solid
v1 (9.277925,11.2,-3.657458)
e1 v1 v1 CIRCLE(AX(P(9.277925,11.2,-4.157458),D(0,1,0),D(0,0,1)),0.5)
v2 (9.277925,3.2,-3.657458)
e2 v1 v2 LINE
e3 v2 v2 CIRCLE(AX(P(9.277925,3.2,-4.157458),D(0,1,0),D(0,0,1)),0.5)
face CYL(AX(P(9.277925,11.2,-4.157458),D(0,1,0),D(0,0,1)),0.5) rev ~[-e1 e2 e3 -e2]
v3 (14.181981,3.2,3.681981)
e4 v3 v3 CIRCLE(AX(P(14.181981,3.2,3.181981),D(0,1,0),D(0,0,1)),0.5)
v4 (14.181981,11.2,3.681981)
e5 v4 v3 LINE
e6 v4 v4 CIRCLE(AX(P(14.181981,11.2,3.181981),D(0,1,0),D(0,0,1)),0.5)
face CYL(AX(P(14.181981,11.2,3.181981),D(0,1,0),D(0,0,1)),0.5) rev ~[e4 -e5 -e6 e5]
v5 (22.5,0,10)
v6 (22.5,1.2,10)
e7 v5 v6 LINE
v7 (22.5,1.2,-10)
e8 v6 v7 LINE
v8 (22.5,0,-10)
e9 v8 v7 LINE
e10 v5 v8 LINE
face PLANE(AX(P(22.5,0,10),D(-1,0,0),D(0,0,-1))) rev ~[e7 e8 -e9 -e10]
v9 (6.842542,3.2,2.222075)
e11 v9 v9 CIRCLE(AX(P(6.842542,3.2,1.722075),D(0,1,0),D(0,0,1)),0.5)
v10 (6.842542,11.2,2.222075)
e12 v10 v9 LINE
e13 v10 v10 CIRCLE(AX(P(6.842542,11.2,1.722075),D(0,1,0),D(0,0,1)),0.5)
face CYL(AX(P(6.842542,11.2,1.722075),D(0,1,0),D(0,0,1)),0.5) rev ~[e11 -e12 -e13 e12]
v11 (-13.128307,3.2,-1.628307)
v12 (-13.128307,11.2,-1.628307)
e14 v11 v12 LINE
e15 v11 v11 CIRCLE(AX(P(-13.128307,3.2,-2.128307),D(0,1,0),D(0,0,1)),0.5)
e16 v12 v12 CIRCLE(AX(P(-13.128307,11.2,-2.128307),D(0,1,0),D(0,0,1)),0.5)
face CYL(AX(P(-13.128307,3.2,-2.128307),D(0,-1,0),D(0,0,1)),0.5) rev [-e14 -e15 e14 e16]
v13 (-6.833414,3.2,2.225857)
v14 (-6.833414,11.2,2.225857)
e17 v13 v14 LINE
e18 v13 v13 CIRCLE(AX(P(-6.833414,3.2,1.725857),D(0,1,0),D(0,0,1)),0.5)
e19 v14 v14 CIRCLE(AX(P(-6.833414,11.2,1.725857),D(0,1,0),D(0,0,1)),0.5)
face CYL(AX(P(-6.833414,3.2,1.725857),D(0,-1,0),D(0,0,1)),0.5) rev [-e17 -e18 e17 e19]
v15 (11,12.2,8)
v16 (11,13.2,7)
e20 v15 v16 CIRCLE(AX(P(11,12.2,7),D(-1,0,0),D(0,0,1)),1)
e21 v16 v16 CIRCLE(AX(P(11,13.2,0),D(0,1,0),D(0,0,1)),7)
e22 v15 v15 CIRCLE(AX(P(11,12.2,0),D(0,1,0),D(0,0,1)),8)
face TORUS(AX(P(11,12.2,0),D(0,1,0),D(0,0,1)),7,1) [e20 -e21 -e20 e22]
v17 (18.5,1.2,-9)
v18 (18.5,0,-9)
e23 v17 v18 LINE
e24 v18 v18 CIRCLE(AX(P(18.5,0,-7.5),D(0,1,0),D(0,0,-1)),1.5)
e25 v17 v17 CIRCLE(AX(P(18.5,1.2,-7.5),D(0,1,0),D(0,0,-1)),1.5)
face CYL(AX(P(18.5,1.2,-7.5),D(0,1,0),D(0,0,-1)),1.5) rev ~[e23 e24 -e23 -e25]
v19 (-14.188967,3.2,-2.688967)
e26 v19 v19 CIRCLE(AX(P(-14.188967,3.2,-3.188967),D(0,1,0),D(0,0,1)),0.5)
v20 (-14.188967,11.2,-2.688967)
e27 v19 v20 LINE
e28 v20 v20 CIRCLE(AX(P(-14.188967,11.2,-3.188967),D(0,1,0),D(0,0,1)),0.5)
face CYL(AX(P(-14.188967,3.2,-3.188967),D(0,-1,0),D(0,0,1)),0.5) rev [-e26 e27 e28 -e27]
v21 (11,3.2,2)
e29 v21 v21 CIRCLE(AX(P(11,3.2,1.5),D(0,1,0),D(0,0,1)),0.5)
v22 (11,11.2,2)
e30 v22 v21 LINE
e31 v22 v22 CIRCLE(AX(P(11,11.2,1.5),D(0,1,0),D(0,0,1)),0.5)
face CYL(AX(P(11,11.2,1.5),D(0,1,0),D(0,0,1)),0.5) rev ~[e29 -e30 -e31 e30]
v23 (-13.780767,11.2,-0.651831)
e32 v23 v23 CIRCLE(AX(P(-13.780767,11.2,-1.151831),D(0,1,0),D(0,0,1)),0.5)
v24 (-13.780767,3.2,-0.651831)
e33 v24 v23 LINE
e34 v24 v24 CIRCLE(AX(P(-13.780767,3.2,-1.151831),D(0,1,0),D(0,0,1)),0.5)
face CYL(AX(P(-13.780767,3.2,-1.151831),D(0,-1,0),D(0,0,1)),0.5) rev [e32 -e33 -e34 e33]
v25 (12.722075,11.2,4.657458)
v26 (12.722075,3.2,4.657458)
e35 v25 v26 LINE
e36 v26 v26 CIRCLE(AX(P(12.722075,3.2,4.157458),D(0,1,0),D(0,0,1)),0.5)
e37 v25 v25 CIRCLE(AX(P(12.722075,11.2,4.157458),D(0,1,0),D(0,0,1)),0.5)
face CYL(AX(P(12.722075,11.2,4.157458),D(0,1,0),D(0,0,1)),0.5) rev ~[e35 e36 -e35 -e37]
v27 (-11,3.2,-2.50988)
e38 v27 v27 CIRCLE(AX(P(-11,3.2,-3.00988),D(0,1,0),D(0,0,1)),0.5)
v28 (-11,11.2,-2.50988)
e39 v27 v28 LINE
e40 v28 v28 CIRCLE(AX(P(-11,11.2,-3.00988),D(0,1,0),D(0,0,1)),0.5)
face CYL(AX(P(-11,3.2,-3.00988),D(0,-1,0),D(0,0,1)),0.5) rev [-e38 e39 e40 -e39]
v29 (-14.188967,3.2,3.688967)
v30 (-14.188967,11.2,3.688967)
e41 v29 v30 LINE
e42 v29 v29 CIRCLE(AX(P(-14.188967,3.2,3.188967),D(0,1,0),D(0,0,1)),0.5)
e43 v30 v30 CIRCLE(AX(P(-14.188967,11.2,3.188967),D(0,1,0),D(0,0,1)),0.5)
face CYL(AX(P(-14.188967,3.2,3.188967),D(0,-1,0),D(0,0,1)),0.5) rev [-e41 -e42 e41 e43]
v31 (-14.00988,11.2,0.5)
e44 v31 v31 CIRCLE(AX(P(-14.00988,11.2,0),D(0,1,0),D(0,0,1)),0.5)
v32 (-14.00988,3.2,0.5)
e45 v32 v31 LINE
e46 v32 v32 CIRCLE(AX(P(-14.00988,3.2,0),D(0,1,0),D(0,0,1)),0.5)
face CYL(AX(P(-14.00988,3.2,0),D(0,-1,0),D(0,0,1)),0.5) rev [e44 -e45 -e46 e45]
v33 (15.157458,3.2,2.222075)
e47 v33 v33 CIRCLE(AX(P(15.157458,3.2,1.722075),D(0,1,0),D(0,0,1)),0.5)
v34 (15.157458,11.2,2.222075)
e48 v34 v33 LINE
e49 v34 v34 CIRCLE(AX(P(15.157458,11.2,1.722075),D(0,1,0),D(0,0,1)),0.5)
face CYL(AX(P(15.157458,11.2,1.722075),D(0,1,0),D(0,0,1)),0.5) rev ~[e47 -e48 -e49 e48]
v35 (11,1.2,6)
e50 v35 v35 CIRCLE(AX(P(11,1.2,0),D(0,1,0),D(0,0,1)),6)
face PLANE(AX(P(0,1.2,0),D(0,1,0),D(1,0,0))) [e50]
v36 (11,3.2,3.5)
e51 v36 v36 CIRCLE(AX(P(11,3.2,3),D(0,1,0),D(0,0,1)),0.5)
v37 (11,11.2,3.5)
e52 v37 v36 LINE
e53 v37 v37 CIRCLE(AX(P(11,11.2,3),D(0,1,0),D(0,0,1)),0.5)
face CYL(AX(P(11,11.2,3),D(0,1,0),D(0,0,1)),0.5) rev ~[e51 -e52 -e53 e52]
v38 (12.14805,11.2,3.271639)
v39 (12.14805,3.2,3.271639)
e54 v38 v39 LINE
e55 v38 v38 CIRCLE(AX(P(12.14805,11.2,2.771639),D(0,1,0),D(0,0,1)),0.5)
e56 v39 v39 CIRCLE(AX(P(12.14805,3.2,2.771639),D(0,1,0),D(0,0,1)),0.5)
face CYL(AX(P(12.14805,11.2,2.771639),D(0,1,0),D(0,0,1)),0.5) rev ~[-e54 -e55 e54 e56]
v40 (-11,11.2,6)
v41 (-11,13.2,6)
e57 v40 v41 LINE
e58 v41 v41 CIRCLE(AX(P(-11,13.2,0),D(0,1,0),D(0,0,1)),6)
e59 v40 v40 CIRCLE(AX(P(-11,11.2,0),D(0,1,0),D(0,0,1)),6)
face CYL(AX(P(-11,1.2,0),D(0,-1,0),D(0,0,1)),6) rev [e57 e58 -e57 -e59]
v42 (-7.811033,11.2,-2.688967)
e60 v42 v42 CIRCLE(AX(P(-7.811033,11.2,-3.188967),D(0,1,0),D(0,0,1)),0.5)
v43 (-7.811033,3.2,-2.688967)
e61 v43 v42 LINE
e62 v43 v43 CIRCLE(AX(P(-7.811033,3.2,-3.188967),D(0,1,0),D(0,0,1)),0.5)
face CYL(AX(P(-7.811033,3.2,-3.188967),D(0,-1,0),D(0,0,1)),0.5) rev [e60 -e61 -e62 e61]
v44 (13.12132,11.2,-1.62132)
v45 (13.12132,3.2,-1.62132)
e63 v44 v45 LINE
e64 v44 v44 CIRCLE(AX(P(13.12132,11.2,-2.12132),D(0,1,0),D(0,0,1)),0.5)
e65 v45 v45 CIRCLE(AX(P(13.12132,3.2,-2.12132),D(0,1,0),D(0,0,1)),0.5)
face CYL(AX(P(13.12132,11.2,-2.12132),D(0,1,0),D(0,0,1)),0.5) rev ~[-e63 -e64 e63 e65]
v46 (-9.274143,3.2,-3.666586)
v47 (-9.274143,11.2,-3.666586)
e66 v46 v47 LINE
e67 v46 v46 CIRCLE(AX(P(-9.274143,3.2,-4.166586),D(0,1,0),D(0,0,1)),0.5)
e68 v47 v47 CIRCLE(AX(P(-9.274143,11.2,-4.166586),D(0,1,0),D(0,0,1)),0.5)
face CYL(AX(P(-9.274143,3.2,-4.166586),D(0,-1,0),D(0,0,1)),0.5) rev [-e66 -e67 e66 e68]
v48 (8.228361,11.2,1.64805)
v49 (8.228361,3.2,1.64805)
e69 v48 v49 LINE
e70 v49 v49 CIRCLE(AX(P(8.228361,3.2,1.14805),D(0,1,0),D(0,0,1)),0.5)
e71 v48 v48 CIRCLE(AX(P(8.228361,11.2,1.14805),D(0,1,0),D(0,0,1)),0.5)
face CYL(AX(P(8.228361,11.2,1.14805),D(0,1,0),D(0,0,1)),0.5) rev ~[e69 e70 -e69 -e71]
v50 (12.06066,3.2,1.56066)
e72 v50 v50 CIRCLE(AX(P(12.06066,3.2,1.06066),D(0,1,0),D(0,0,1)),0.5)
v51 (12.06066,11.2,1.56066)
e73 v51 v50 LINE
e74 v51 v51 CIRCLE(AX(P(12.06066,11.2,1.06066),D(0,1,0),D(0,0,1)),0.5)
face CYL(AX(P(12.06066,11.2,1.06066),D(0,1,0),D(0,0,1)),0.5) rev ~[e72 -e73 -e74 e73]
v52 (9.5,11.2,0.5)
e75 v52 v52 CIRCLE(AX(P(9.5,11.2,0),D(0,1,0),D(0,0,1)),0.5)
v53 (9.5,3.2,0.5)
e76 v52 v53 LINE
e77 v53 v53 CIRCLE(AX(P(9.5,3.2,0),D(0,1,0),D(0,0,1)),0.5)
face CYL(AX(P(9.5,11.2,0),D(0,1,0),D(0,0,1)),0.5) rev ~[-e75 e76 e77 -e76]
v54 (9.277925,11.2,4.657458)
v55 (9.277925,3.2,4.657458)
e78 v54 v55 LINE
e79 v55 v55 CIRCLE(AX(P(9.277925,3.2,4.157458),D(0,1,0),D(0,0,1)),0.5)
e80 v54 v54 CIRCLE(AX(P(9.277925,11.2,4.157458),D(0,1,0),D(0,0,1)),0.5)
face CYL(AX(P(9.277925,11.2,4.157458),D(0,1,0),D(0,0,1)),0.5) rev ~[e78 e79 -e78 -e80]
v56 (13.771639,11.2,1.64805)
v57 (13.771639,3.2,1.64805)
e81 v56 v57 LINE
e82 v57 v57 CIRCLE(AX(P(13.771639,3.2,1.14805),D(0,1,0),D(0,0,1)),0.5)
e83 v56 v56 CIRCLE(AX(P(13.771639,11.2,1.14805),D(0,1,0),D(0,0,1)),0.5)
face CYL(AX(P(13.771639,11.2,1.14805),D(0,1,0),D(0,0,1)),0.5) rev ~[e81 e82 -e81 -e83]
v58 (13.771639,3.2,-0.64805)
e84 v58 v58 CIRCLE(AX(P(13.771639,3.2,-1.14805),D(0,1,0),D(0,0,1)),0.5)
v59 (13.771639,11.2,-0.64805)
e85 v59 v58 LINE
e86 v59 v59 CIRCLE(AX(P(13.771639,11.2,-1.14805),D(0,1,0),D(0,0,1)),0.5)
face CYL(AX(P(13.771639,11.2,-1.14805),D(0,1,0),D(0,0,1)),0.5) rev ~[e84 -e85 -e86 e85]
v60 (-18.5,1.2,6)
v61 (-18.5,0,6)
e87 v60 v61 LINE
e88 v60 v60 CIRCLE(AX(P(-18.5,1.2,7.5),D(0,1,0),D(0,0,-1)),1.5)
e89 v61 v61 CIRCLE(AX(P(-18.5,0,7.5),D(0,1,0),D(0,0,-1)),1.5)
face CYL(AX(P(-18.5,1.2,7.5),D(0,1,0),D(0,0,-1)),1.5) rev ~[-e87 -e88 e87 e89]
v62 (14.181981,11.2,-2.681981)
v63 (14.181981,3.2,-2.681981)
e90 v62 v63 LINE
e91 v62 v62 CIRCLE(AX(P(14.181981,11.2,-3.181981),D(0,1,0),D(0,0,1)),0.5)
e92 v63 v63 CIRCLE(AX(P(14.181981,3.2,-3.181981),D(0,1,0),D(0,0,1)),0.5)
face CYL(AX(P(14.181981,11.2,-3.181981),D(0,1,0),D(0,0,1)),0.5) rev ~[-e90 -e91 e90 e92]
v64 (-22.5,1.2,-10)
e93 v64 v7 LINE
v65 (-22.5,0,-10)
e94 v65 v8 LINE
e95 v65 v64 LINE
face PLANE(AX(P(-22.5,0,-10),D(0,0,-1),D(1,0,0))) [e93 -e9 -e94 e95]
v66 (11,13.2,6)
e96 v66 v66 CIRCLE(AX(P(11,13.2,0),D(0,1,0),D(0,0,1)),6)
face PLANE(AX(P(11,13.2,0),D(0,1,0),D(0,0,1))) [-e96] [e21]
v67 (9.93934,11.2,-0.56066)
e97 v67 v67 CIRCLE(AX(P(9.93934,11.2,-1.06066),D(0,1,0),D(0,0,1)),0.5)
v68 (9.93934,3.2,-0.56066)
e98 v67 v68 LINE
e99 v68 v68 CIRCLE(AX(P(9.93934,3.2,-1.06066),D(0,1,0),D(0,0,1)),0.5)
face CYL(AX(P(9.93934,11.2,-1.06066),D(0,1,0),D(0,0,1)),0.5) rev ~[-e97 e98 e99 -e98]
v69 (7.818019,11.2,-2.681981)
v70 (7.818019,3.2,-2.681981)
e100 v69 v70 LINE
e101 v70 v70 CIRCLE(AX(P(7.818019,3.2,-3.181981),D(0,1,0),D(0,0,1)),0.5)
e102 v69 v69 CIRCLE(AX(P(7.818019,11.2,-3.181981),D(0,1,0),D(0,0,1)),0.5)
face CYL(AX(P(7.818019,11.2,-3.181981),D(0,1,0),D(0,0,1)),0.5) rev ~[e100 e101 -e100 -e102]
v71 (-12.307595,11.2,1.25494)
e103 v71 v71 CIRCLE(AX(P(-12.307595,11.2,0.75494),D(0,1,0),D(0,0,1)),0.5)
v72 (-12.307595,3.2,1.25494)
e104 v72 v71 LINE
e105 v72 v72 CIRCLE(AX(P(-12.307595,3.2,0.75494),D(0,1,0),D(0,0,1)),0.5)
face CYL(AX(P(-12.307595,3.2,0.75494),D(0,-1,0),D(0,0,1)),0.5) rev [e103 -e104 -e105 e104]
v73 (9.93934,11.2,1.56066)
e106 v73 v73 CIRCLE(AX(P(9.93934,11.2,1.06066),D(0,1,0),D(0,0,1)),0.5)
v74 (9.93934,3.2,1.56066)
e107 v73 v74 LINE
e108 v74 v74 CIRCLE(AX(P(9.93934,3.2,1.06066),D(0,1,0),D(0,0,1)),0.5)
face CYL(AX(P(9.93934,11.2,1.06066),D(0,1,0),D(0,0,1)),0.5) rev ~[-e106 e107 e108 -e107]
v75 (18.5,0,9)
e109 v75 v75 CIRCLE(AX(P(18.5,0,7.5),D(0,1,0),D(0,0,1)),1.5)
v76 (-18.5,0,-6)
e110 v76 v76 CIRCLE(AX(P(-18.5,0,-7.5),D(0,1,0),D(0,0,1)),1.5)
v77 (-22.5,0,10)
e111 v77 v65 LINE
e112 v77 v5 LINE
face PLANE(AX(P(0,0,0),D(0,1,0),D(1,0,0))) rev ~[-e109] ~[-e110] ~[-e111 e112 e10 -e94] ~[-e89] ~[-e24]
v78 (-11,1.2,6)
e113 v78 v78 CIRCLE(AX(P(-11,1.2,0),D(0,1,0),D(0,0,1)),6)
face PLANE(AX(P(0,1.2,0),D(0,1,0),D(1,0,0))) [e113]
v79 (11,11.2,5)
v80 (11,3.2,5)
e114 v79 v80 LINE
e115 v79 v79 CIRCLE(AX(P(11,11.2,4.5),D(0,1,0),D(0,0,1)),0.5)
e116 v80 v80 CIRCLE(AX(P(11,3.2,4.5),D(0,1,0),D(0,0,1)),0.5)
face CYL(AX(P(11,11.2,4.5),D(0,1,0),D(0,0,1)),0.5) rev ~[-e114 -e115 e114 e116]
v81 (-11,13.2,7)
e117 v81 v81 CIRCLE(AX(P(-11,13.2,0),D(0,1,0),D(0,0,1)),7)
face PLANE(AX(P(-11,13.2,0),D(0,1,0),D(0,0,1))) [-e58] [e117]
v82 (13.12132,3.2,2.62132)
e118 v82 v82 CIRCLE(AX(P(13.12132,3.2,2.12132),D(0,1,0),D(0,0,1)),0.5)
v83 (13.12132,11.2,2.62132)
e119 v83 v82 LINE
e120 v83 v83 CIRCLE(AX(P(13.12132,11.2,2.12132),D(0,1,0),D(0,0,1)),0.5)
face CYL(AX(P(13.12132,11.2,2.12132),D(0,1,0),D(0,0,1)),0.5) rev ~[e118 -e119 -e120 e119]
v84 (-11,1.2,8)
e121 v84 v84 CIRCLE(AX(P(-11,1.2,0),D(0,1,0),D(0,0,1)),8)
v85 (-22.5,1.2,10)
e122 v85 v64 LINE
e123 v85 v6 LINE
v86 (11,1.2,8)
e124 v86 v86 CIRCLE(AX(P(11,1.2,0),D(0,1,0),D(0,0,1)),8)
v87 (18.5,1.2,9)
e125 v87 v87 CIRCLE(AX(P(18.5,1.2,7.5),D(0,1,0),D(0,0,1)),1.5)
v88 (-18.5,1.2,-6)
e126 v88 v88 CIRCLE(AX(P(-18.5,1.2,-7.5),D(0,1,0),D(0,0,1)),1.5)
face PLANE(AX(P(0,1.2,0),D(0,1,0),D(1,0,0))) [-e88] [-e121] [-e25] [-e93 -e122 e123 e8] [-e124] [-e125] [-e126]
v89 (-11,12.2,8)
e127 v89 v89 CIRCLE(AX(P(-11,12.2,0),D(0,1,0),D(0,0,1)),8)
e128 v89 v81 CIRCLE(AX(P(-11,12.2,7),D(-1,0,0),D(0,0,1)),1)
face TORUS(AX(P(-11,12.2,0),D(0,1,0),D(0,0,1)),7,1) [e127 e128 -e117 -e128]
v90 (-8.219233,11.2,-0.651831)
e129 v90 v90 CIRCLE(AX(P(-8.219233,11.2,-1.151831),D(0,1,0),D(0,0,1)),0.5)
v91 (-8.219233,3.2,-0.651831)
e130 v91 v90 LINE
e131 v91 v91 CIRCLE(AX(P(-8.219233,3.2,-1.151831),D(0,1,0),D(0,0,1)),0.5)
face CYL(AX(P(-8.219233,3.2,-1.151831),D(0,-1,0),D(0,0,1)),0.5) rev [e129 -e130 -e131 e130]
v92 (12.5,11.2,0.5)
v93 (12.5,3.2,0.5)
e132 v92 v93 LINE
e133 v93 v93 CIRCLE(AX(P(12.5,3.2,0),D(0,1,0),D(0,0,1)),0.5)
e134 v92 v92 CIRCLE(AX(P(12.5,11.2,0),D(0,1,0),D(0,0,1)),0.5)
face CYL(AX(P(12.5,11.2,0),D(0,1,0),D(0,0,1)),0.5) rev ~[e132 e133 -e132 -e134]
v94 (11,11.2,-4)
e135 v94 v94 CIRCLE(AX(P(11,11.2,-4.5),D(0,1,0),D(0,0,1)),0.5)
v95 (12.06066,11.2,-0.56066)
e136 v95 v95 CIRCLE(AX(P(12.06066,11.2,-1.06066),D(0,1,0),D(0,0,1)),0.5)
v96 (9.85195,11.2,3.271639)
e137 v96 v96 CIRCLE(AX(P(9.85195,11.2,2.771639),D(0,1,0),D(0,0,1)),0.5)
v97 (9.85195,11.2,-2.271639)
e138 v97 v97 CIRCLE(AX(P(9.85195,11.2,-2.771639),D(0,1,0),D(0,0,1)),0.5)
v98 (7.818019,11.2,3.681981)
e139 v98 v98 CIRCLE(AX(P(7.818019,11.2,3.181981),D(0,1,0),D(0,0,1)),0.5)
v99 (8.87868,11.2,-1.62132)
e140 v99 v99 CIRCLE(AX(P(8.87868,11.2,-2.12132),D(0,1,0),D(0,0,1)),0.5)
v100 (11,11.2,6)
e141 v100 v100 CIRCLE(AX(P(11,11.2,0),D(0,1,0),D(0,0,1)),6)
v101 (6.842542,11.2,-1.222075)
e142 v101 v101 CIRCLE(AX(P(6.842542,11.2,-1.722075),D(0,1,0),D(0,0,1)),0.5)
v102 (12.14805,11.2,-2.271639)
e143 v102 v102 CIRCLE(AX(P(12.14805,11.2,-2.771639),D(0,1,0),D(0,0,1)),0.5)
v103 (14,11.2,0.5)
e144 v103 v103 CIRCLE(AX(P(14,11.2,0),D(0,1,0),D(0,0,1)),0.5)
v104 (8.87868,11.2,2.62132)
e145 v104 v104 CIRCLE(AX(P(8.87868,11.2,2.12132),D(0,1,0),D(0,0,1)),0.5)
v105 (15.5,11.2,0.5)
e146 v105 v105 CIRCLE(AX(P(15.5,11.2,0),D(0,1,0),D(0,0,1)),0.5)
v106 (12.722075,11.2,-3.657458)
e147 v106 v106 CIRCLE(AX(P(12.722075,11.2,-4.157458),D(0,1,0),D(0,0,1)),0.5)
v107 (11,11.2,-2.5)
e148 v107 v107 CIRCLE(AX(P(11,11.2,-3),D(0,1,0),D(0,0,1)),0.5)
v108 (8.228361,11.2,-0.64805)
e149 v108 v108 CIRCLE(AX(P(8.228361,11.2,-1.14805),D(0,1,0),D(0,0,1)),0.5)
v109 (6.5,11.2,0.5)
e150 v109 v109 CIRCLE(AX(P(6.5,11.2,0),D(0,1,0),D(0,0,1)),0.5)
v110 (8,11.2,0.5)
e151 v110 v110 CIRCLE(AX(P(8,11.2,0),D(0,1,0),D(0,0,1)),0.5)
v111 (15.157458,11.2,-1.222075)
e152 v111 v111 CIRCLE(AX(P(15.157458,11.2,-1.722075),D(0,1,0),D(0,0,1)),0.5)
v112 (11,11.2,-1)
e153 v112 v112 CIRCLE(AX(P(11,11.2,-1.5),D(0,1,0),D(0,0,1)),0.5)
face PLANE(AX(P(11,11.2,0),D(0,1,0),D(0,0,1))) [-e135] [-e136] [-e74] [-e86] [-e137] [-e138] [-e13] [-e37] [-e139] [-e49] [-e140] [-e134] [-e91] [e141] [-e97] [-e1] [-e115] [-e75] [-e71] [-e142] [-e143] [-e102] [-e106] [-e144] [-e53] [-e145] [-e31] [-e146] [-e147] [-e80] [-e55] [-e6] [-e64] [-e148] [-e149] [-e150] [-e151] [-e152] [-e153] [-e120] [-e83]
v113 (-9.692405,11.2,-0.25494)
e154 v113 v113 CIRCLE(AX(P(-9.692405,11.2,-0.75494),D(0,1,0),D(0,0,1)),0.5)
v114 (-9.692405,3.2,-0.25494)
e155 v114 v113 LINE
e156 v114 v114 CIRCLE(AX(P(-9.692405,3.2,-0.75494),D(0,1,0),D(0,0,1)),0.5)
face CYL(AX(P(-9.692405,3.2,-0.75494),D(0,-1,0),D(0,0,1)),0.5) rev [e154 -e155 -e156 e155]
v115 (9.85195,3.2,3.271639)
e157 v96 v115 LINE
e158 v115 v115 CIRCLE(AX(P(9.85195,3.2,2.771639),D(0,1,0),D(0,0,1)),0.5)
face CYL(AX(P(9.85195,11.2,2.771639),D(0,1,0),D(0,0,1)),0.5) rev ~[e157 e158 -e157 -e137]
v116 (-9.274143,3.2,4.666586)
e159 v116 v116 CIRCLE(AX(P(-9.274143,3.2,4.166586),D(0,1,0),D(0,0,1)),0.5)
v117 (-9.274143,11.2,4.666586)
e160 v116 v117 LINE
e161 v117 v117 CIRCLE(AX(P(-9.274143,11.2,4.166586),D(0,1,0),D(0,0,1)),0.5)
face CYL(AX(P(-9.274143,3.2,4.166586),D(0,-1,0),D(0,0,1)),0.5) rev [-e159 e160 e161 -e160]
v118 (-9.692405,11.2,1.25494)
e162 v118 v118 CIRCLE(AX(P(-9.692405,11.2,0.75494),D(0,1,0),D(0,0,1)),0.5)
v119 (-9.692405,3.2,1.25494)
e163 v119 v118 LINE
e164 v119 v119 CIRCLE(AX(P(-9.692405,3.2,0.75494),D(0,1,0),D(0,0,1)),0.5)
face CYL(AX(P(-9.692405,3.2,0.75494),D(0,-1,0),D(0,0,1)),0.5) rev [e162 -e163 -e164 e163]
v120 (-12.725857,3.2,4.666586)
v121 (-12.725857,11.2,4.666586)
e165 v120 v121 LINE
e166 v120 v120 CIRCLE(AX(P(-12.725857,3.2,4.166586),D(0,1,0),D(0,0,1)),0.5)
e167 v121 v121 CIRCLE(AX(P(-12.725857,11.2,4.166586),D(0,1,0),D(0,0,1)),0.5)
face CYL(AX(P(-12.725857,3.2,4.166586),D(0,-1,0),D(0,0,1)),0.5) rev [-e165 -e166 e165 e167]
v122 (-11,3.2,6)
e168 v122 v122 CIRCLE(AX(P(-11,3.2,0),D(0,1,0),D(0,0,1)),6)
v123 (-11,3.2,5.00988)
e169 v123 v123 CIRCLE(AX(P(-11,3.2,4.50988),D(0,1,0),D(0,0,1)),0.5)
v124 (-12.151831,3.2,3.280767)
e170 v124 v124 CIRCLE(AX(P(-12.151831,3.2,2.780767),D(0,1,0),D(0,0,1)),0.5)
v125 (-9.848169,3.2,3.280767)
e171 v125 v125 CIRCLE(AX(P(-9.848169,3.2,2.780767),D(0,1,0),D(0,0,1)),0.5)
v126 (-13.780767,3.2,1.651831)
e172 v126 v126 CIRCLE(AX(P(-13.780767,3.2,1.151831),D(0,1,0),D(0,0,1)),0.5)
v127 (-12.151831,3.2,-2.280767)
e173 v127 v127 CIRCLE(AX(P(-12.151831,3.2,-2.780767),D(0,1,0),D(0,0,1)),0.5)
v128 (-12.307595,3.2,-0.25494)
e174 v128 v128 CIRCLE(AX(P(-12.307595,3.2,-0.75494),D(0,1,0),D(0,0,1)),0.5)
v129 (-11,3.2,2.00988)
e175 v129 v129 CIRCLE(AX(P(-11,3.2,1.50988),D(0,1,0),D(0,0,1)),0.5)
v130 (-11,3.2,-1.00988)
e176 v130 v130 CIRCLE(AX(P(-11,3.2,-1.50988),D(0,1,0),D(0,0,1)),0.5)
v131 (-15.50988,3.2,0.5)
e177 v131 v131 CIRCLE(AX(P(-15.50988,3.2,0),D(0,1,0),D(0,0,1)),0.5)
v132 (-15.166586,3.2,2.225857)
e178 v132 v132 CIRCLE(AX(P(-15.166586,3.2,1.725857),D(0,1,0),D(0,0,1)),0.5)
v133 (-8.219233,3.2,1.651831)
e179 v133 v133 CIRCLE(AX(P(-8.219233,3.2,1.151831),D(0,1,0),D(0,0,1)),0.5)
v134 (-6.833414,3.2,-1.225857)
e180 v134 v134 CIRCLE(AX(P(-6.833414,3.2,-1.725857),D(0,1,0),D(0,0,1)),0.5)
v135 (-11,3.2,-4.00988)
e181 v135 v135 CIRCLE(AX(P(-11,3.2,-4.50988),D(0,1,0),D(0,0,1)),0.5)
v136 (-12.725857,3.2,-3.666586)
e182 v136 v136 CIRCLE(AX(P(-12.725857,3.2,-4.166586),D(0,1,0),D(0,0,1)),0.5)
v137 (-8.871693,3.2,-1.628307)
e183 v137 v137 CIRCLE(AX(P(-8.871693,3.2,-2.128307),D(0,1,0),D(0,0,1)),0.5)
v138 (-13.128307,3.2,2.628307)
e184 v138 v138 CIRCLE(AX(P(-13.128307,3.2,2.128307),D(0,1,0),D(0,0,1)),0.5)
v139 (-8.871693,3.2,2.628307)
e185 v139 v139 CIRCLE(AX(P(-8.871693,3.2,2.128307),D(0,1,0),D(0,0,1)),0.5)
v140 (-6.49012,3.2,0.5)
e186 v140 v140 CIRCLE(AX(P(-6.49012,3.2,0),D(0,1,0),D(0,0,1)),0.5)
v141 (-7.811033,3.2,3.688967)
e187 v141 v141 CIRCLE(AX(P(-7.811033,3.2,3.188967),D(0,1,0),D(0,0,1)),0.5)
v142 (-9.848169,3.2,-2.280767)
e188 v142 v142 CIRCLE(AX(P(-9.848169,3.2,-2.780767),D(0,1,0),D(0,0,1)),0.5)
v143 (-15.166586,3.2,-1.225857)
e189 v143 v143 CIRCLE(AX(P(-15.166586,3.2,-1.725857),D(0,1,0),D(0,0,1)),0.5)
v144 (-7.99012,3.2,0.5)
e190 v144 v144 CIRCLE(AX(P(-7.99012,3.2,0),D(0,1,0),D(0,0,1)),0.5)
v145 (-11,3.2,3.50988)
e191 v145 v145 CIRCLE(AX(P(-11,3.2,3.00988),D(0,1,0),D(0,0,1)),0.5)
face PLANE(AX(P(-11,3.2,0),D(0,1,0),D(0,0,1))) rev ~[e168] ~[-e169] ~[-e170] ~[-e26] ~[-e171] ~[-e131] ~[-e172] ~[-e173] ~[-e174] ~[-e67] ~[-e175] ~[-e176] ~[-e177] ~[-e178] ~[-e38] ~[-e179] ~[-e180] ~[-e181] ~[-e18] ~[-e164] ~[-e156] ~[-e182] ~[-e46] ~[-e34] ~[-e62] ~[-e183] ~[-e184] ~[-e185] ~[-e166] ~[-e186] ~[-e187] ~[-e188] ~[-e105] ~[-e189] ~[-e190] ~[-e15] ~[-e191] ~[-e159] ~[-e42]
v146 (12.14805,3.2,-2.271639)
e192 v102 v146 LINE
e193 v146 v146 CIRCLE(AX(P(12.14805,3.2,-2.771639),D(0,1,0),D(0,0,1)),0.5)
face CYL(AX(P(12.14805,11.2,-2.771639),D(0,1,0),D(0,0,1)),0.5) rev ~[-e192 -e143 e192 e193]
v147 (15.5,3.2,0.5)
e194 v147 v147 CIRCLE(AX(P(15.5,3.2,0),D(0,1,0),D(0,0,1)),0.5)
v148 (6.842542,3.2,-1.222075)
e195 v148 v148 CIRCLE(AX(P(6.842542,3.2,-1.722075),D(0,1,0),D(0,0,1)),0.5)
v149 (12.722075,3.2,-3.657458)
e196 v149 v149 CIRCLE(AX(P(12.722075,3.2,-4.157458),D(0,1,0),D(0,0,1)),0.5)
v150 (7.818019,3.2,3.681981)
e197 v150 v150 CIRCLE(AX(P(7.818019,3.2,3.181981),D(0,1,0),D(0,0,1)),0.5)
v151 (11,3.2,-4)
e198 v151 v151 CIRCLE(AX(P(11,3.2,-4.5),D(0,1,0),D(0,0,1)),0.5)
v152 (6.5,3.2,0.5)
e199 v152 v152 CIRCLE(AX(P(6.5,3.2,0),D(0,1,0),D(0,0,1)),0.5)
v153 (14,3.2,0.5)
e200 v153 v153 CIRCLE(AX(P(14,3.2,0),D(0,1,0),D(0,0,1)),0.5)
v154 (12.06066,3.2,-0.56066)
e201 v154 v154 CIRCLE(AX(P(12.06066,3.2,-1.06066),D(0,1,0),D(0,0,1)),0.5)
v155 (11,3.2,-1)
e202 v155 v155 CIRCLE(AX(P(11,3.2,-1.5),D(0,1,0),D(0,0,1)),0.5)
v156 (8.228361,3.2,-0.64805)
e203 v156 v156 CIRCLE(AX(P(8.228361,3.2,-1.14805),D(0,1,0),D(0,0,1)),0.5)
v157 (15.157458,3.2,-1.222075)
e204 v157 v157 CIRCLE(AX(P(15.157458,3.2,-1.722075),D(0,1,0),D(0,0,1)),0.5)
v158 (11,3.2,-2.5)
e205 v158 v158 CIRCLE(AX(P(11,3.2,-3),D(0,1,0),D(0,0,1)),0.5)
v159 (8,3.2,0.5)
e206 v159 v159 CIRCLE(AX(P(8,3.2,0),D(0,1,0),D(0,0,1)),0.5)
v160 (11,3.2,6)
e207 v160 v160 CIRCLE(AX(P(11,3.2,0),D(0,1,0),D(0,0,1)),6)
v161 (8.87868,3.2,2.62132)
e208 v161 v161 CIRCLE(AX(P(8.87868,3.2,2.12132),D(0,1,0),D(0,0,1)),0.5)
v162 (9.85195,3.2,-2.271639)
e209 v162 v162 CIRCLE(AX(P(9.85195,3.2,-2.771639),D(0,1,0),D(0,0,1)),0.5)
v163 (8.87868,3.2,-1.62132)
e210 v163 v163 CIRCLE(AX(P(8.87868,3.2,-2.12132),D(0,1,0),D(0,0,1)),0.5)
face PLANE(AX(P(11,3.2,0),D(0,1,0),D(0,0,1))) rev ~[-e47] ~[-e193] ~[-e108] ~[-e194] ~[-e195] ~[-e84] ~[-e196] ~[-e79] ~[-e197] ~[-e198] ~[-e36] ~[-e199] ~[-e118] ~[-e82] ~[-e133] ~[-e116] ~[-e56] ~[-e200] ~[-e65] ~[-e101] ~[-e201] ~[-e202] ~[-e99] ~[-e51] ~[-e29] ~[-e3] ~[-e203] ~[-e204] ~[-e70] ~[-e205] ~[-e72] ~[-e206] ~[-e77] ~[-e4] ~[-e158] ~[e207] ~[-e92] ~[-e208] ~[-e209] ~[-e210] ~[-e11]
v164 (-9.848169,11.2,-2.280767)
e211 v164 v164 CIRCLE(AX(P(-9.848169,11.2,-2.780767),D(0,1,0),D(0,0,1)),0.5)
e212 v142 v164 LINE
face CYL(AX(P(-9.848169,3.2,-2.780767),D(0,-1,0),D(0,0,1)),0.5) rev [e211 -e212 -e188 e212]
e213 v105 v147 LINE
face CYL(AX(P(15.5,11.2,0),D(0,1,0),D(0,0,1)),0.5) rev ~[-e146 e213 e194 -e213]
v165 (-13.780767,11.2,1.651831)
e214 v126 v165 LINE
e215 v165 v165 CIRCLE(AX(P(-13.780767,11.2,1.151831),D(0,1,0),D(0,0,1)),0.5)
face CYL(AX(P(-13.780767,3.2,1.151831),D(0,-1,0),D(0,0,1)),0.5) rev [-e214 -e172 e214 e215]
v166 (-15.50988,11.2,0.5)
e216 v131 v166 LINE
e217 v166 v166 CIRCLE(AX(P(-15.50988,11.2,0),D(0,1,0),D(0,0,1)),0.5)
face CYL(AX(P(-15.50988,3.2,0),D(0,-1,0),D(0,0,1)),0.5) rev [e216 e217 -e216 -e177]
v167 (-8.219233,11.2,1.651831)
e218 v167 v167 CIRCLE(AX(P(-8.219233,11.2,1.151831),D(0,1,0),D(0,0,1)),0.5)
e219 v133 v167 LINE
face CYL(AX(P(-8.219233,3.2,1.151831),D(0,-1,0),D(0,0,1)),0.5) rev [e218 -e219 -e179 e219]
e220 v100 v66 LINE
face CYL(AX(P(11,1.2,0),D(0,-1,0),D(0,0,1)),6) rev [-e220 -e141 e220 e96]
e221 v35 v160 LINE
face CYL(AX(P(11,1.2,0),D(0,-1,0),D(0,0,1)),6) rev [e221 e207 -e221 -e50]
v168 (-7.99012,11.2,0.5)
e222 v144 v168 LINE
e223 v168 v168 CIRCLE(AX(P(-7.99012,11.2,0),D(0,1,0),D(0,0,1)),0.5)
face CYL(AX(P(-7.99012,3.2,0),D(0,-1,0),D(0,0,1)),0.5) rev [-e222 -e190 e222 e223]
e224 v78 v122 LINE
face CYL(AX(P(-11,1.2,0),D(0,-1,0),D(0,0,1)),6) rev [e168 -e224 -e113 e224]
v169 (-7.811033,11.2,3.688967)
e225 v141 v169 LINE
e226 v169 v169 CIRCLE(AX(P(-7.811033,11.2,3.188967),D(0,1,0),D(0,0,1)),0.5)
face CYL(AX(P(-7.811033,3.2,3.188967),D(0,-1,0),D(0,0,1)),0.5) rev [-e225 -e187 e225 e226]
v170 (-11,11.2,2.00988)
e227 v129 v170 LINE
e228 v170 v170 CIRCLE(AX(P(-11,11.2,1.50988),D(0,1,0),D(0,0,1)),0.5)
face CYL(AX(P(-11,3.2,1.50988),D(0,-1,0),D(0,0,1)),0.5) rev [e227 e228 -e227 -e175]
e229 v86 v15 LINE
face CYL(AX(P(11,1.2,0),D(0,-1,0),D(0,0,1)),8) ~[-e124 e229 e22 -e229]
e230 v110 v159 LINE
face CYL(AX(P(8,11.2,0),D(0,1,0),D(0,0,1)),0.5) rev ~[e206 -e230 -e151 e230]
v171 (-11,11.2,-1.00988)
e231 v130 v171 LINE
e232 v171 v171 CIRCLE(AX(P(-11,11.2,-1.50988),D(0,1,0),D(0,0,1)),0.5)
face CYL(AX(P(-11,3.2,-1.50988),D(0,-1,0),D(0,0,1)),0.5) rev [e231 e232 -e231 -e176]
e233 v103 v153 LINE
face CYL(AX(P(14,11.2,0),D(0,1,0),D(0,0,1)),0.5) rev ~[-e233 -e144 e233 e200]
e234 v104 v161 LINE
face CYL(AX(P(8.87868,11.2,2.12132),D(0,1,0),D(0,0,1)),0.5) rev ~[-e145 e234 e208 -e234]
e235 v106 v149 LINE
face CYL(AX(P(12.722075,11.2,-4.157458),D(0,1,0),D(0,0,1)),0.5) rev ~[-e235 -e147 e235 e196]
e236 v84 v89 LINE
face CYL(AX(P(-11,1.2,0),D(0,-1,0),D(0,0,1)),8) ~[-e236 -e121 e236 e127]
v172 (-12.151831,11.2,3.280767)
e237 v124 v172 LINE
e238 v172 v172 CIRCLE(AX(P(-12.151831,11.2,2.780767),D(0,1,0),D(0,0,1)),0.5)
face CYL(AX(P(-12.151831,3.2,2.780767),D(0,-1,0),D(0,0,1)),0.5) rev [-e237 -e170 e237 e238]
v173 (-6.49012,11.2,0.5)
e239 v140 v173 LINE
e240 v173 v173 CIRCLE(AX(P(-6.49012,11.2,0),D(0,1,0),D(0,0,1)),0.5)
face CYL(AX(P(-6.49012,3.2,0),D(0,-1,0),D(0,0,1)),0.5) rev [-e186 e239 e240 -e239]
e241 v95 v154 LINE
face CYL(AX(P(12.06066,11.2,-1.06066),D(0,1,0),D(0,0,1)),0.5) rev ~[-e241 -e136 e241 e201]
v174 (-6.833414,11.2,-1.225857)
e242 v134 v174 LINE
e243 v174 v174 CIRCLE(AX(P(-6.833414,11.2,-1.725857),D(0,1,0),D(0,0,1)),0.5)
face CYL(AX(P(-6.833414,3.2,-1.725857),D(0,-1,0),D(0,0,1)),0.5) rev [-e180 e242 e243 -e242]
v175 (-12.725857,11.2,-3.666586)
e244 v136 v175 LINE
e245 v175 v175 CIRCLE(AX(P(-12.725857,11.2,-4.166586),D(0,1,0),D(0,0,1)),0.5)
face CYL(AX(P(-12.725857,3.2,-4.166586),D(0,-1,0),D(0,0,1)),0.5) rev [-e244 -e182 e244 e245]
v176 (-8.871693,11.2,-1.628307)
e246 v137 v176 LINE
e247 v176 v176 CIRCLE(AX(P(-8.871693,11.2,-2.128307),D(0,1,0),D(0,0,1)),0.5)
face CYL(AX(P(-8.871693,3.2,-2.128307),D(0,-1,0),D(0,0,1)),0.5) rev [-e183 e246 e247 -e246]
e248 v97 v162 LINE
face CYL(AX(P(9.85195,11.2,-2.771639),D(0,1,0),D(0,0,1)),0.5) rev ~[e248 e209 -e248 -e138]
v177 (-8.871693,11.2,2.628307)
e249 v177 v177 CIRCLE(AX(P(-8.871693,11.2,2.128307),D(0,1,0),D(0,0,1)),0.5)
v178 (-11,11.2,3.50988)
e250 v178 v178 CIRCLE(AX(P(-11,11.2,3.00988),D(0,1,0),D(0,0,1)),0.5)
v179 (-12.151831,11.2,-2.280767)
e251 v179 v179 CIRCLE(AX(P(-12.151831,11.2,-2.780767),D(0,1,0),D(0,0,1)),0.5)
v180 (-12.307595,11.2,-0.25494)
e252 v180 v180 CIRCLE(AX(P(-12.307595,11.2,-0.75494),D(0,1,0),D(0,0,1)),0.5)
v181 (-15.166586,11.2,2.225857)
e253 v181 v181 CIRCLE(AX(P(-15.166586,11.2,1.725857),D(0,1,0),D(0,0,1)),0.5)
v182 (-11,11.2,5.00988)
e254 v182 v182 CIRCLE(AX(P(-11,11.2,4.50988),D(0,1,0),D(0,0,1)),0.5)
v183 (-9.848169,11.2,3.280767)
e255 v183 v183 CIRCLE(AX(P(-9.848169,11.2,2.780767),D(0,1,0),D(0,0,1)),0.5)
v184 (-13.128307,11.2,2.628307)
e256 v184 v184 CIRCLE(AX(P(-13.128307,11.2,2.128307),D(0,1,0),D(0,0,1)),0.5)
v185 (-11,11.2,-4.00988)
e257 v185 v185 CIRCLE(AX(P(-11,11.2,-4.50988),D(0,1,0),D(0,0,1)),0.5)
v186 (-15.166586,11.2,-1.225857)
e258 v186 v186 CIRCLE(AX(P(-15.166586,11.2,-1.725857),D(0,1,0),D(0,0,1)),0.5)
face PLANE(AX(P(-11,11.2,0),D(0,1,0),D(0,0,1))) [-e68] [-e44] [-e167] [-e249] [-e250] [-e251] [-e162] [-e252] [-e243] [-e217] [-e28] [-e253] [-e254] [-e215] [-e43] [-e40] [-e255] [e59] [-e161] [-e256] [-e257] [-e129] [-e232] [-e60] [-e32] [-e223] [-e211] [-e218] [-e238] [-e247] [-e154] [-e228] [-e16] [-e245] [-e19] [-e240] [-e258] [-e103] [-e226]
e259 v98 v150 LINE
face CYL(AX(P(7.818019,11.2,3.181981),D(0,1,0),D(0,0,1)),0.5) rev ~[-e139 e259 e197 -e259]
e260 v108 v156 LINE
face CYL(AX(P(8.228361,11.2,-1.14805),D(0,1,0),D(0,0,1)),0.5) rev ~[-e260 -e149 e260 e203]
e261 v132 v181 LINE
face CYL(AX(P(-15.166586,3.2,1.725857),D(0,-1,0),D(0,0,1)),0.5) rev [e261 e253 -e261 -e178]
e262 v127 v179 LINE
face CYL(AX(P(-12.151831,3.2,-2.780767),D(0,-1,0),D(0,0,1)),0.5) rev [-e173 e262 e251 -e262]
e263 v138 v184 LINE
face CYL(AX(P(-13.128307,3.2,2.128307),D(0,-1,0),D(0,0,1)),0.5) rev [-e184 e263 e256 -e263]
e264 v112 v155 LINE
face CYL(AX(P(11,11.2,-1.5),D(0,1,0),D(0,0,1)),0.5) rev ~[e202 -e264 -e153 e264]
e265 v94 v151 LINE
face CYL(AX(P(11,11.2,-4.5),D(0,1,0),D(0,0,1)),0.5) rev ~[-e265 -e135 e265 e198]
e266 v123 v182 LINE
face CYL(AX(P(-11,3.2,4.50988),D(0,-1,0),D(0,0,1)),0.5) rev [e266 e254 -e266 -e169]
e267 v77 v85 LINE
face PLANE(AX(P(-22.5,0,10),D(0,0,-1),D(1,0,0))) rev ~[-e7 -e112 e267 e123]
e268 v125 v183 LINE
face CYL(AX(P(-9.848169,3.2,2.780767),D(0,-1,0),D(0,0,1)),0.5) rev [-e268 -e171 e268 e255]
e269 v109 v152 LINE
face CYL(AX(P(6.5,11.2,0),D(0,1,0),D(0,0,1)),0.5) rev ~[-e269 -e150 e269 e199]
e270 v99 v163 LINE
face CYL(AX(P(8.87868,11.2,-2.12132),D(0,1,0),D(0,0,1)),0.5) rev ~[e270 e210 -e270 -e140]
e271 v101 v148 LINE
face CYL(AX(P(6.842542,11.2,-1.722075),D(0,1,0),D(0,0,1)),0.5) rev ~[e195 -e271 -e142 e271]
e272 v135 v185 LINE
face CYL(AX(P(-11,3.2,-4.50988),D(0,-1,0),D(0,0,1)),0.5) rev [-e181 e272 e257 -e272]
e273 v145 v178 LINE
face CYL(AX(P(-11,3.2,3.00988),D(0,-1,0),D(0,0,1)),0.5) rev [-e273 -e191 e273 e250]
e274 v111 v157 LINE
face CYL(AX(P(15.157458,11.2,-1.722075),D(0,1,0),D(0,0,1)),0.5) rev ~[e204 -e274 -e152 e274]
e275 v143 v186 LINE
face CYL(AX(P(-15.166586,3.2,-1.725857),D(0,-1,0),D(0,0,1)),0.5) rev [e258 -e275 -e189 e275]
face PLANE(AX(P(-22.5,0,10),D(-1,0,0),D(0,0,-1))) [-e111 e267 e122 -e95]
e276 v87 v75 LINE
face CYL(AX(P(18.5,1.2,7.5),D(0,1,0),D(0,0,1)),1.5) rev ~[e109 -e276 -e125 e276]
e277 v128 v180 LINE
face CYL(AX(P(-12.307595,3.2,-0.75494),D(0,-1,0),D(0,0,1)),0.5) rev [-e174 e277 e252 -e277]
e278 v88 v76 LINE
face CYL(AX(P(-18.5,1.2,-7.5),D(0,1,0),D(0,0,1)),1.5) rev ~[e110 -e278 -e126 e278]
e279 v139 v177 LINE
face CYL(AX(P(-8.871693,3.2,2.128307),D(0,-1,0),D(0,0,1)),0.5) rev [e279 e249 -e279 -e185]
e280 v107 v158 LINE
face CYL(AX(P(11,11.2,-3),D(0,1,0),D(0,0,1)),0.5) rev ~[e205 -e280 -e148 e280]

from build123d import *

# Parameters (mm, degrees)
SKETCH_1_W          = 45
SKETCH_1_H          = 20
EXTRUDE_1_DEPTH     = 1.2
SKETCH_2_R          = 8
SKETCH_2_R_2        = 6
EXTRUDE_2_DEPTH     = 12
FILLET_1_R          = 1
EXTRUDE_START       = -8
SKETCH_3_R          = 6
SKETCH_3_R_2        = 0.5
EXTRUDE_3_DEPTH     = 8
SKETCH_4_R          = 0.5
CUT_EXTRUDE_1_DEPTH = 8
SKETCH_5_R          = 1.5
CUT_EXTRUDE_2_DEPTH = 28.39069185


with BuildPart() as part:
    # 草图1 → 凸台-拉伸1 (new body)
    with BuildSketch(Plane(origin=(0, 0, 0), x_dir=(1, 0, 0), z_dir=(0, 1, 0))):
        Rectangle(SKETCH_1_W, SKETCH_1_H)
    extrude(amount=EXTRUDE_1_DEPTH)

    # 草图2 → 凸台-拉伸2 (add)
    # profile 1 of 2: a face of its own
    with BuildSketch(Plane(origin=(0, 1.2, 0), x_dir=(1, 0, 0), z_dir=(0, 1, 0))):
        with Locations(Location((-11, 0, 0), (0, 0, 270))):
            Circle(SKETCH_2_R)
        with Locations(Location((-11, 0, 0), (0, 0, 270))):
            Circle(SKETCH_2_R_2, mode=Mode.SUBTRACT)
    # profile 2 of 2: a face of its own
    with BuildSketch(Plane(origin=(0, 1.2, 0), x_dir=(1, 0, 0), z_dir=(0, 1, 0))):
        with Locations(Location((11, 0, 0), (0, 0, 270))):
            Circle(SKETCH_2_R)
        with Locations(Location((11, 0, 0), (0, 0, 270))):
            Circle(SKETCH_2_R_2, mode=Mode.SUBTRACT)
    extrude(amount=EXTRUDE_2_DEPTH)

    # 圆角1
    fillet_1_edges = [part.edges().sort_by_distance(p)[0] for p in [
        (-11, 13.2, -8),
        (11, 13.2, -8),
    ]]
    fillet(fillet_1_edges, radius=FILLET_1_R)

    # 草图3 → 凸台-拉伸3 (add)
    # profile 1 of 2: a face of its own
    with BuildSketch(Plane(origin=(0, 11.2, 0), x_dir=(1, 0, 0), z_dir=(0, 1, 0)).offset(EXTRUDE_START)):
        with Locations(Location((-11, 0, 0), (0, 0, 270))):
            Circle(SKETCH_3_R)
        with Locations(Location((-11, 4.509880422, 0), (0, 0, 270))):
            Circle(SKETCH_3_R_2, mode=Mode.SUBTRACT)
        with Locations(Location((-11, 3.009880422, 0), (0, 0, 270))):
            Circle(SKETCH_3_R_2, mode=Mode.SUBTRACT)
        with Locations(Location((-11, 1.509880422, 0), (0, 0, 270))):
            Circle(SKETCH_3_R_2, mode=Mode.SUBTRACT)
        with Locations(Location((-9.27414348, 4.166586216, 0), (0, 0, 270))):
            Circle(SKETCH_3_R_2, mode=Mode.SUBTRACT)
        with Locations(Location((-9.848168629, 2.780766918, 0), (0, 0, 270))):
            Circle(SKETCH_3_R_2, mode=Mode.SUBTRACT)
        with Locations(Location((-7.811032971, 3.188967029, 0), (0, 0, 270))):
            Circle(SKETCH_3_R_2, mode=Mode.SUBTRACT)
        with Locations(Location((-8.871693143, 2.128306857, 0), (0, 0, 270))):
            Circle(SKETCH_3_R_2, mode=Mode.SUBTRACT)
        with Locations(Location((-6.833413784, 1.72585652, 0), (0, 0, 270))):
            Circle(SKETCH_3_R_2, mode=Mode.SUBTRACT)
        with Locations(Location((-8.219233082, 1.151831371, 0), (0, 0, 270))):
            Circle(SKETCH_3_R_2, mode=Mode.SUBTRACT)
        with Locations(Location((-6.490119578, 0, 0), (0, 0, 270))):
            Circle(SKETCH_3_R_2, mode=Mode.SUBTRACT)
        with Locations(Location((-7.990119578, 0, 0), (0, 0, 270))):
            Circle(SKETCH_3_R_2, mode=Mode.SUBTRACT)
        with Locations(Location((-6.833413784, -1.72585652, 0), (0, 0, 270))):
            Circle(SKETCH_3_R_2, mode=Mode.SUBTRACT)
        with Locations(Location((-8.219233082, -1.151831371, 0), (0, 0, 270))):
            Circle(SKETCH_3_R_2, mode=Mode.SUBTRACT)
        with Locations(Location((-7.811032971, -3.188967029, 0), (0, 0, 270))):
            Circle(SKETCH_3_R_2, mode=Mode.SUBTRACT)
        with Locations(Location((-8.871693143, -2.128306857, 0), (0, 0, 270))):
            Circle(SKETCH_3_R_2, mode=Mode.SUBTRACT)
        with Locations(Location((-9.27414348, -4.166586216, 0), (0, 0, 270))):
            Circle(SKETCH_3_R_2, mode=Mode.SUBTRACT)
        with Locations(Location((-9.848168629, -2.780766918, 0), (0, 0, 270))):
            Circle(SKETCH_3_R_2, mode=Mode.SUBTRACT)
        with Locations(Location((-11, -4.509880422, 0), (0, 0, 270))):
            Circle(SKETCH_3_R_2, mode=Mode.SUBTRACT)
        with Locations(Location((-11, -3.009880422, 0), (0, 0, 270))):
            Circle(SKETCH_3_R_2, mode=Mode.SUBTRACT)
        with Locations(Location((-12.72585652, -4.166586216, 0), (0, 0, 270))):
            Circle(SKETCH_3_R_2, mode=Mode.SUBTRACT)
        with Locations(Location((-12.151831371, -2.780766918, 0), (0, 0, 270))):
            Circle(SKETCH_3_R_2, mode=Mode.SUBTRACT)
        with Locations(Location((-14.188967029, -3.188967029, 0), (0, 0, 270))):
            Circle(SKETCH_3_R_2, mode=Mode.SUBTRACT)
        with Locations(Location((-13.128306857, -2.128306857, 0), (0, 0, 270))):
            Circle(SKETCH_3_R_2, mode=Mode.SUBTRACT)
        with Locations(Location((-15.166586216, -1.72585652, 0), (0, 0, 270))):
            Circle(SKETCH_3_R_2, mode=Mode.SUBTRACT)
        with Locations(Location((-13.780766918, -1.151831371, 0), (0, 0, 270))):
            Circle(SKETCH_3_R_2, mode=Mode.SUBTRACT)
        with Locations(Location((-15.509880422, 0, 0), (0, 0, 270))):
            Circle(SKETCH_3_R_2, mode=Mode.SUBTRACT)
        with Locations(Location((-14.009880422, 0, 0), (0, 0, 270))):
            Circle(SKETCH_3_R_2, mode=Mode.SUBTRACT)
        with Locations(Location((-15.166586216, 1.72585652, 0), (0, 0, 270))):
            Circle(SKETCH_3_R_2, mode=Mode.SUBTRACT)
        with Locations(Location((-13.780766918, 1.151831371, 0), (0, 0, 270))):
            Circle(SKETCH_3_R_2, mode=Mode.SUBTRACT)
        with Locations(Location((-14.188967029, 3.188967029, 0), (0, 0, 270))):
            Circle(SKETCH_3_R_2, mode=Mode.SUBTRACT)
        with Locations(Location((-13.128306857, 2.128306857, 0), (0, 0, 270))):
            Circle(SKETCH_3_R_2, mode=Mode.SUBTRACT)
        with Locations(Location((-12.72585652, 4.166586216, 0), (0, 0, 270))):
            Circle(SKETCH_3_R_2, mode=Mode.SUBTRACT)
        with Locations(Location((-12.151831371, 2.780766918, 0), (0, 0, 270))):
            Circle(SKETCH_3_R_2, mode=Mode.SUBTRACT)
        with Locations(Location((-9.692405197, 0.754940211, 0), (0, 0, 270))):
            Circle(SKETCH_3_R_2, mode=Mode.SUBTRACT)
        with Locations(Location((-9.692405197, -0.754940211, 0), (0, 0, 270))):
            Circle(SKETCH_3_R_2, mode=Mode.SUBTRACT)
        with Locations(Location((-11, -1.509880422, 0), (0, 0, 270))):
            Circle(SKETCH_3_R_2, mode=Mode.SUBTRACT)
        with Locations(Location((-12.307594803, -0.754940211, 0), (0, 0, 270))):
            Circle(SKETCH_3_R_2, mode=Mode.SUBTRACT)
        with Locations(Location((-12.307594803, 0.754940211, 0), (0, 0, 270))):
            Circle(SKETCH_3_R_2, mode=Mode.SUBTRACT)
    # profile 2 of 2: a face of its own
    with BuildSketch(Plane(origin=(0, 11.2, 0), x_dir=(1, 0, 0), z_dir=(0, 1, 0)).offset(EXTRUDE_START)):
        with Locations(Location((11, 0, 0), (0, 0, 270))):
            Circle(SKETCH_3_R)
    extrude(amount=EXTRUDE_3_DEPTH)

    # 草图4 → 切除-拉伸1 (cut)
    with BuildSketch(Plane(origin=(0, 11.2, 0), x_dir=(1, 0, 0), z_dir=(0, 1, 0))):
        with Locations(Location((11, 1.5, 0), (0, 0, 270))):
            Circle(SKETCH_4_R)
        with Locations(Location((11, 3, 0), (0, 0, 270))):
            Circle(SKETCH_4_R)
        with Locations(Location((11, 4.5, 0), (0, 0, 270))):
            Circle(SKETCH_4_R)
        with Locations(Location((12.722075446, 4.157457896, 0), (0, 0, 270))):
            Circle(SKETCH_4_R)
        with Locations(Location((12.148050297, 2.771638598, 0), (0, 0, 270))):
            Circle(SKETCH_4_R)
        with Locations(Location((14.181980515, 3.181980515, 0), (0, 0, 270))):
            Circle(SKETCH_4_R)
        with Locations(Location((13.121320344, 2.121320344, 0), (0, 0, 270))):
            Circle(SKETCH_4_R)
        with Locations(Location((15.157457896, 1.722075446, 0), (0, 0, 270))):
            Circle(SKETCH_4_R)
        with Locations(Location((13.771638598, 1.148050297, 0), (0, 0, 270))):
            Circle(SKETCH_4_R)
        with Locations(Location((15.5, 0, 0), (0, 0, 270))):
            Circle(SKETCH_4_R)
        with Locations(Location((14, 0, 0), (0, 0, 270))):
            Circle(SKETCH_4_R)
        with Locations(Location((15.157457896, -1.722075446, 0), (0, 0, 270))):
            Circle(SKETCH_4_R)
        with Locations(Location((13.771638598, -1.148050297, 0), (0, 0, 270))):
            Circle(SKETCH_4_R)
        with Locations(Location((14.181980515, -3.181980515, 0), (0, 0, 270))):
            Circle(SKETCH_4_R)
        with Locations(Location((13.121320344, -2.121320344, 0), (0, 0, 270))):
            Circle(SKETCH_4_R)
        with Locations(Location((12.722075446, -4.157457896, 0), (0, 0, 270))):
            Circle(SKETCH_4_R)
        with Locations(Location((12.148050297, -2.771638598, 0), (0, 0, 270))):
            Circle(SKETCH_4_R)
        with Locations(Location((11, -4.5, 0), (0, 0, 270))):
            Circle(SKETCH_4_R)
        with Locations(Location((11, -3, 0), (0, 0, 270))):
            Circle(SKETCH_4_R)
        with Locations(Location((9.277924554, -4.157457896, 0), (0, 0, 270))):
            Circle(SKETCH_4_R)
        with Locations(Location((9.851949703, -2.771638598, 0), (0, 0, 270))):
            Circle(SKETCH_4_R)
        with Locations(Location((7.818019485, -3.181980515, 0), (0, 0, 270))):
            Circle(SKETCH_4_R)
        with Locations(Location((8.878679656, -2.121320344, 0), (0, 0, 270))):
            Circle(SKETCH_4_R)
        with Locations(Location((6.842542104, -1.722075446, 0), (0, 0, 270))):
            Circle(SKETCH_4_R)
        with Locations(Location((8.228361402, -1.148050297, 0), (0, 0, 270))):
            Circle(SKETCH_4_R)
        with Locations(Location((6.5, 0, 0), (0, 0, 270))):
            Circle(SKETCH_4_R)
        with Locations(Location((8, 0, 0), (0, 0, 270))):
            Circle(SKETCH_4_R)
        with Locations(Location((6.842542104, 1.722075446, 0), (0, 0, 270))):
            Circle(SKETCH_4_R)
        with Locations(Location((8.228361402, 1.148050297, 0), (0, 0, 270))):
            Circle(SKETCH_4_R)
        with Locations(Location((7.818019485, 3.181980515, 0), (0, 0, 270))):
            Circle(SKETCH_4_R)
        with Locations(Location((8.878679656, 2.121320344, 0), (0, 0, 270))):
            Circle(SKETCH_4_R)
        with Locations(Location((9.277924554, 4.157457896, 0), (0, 0, 270))):
            Circle(SKETCH_4_R)
        with Locations(Location((9.851949703, 2.771638598, 0), (0, 0, 270))):
            Circle(SKETCH_4_R)
        with Locations(Location((12.060660172, 1.060660172, 0), (0, 0, 270))):
            Circle(SKETCH_4_R)
        with Locations(Location((12.5, 0, 0), (0, 0, 270))):
            Circle(SKETCH_4_R)
        with Locations(Location((12.060660172, -1.060660172, 0), (0, 0, 270))):
            Circle(SKETCH_4_R)
        with Locations(Location((11, -1.5, 0), (0, 0, 270))):
            Circle(SKETCH_4_R)
        with Locations(Location((9.939339828, -1.060660172, 0), (0, 0, 270))):
            Circle(SKETCH_4_R)
        with Locations(Location((9.5, 0, 0), (0, 0, 270))):
            Circle(SKETCH_4_R)
        with Locations(Location((9.939339828, 1.060660172, 0), (0, 0, 270))):
            Circle(SKETCH_4_R)
    extrude(amount=-CUT_EXTRUDE_1_DEPTH, mode=Mode.SUBTRACT)

    # 草图5 → 切除-拉伸2 (cut, through all)
    with BuildSketch(Plane(origin=(0, 1.2, 0), x_dir=(1, 0, 0), z_dir=(0, 1, 0))):
        with Locations(Location((-18.5, 7.5, 0), (0, 0, 270))):
            Circle(SKETCH_5_R)
        with Locations(Location((-18.5, -7.5, 0), (0, 0, 90))):
            Circle(SKETCH_5_R)
        with Locations(Location((18.5, -7.5, 0), (0, 0, 270))):
            Circle(SKETCH_5_R)
        with Locations(Location((18.5, 7.5, 0), (0, 0, 90))):
            Circle(SKETCH_5_R)
    extrude(amount=-CUT_EXTRUDE_2_DEPTH, mode=Mode.SUBTRACT)


solid = part.part
